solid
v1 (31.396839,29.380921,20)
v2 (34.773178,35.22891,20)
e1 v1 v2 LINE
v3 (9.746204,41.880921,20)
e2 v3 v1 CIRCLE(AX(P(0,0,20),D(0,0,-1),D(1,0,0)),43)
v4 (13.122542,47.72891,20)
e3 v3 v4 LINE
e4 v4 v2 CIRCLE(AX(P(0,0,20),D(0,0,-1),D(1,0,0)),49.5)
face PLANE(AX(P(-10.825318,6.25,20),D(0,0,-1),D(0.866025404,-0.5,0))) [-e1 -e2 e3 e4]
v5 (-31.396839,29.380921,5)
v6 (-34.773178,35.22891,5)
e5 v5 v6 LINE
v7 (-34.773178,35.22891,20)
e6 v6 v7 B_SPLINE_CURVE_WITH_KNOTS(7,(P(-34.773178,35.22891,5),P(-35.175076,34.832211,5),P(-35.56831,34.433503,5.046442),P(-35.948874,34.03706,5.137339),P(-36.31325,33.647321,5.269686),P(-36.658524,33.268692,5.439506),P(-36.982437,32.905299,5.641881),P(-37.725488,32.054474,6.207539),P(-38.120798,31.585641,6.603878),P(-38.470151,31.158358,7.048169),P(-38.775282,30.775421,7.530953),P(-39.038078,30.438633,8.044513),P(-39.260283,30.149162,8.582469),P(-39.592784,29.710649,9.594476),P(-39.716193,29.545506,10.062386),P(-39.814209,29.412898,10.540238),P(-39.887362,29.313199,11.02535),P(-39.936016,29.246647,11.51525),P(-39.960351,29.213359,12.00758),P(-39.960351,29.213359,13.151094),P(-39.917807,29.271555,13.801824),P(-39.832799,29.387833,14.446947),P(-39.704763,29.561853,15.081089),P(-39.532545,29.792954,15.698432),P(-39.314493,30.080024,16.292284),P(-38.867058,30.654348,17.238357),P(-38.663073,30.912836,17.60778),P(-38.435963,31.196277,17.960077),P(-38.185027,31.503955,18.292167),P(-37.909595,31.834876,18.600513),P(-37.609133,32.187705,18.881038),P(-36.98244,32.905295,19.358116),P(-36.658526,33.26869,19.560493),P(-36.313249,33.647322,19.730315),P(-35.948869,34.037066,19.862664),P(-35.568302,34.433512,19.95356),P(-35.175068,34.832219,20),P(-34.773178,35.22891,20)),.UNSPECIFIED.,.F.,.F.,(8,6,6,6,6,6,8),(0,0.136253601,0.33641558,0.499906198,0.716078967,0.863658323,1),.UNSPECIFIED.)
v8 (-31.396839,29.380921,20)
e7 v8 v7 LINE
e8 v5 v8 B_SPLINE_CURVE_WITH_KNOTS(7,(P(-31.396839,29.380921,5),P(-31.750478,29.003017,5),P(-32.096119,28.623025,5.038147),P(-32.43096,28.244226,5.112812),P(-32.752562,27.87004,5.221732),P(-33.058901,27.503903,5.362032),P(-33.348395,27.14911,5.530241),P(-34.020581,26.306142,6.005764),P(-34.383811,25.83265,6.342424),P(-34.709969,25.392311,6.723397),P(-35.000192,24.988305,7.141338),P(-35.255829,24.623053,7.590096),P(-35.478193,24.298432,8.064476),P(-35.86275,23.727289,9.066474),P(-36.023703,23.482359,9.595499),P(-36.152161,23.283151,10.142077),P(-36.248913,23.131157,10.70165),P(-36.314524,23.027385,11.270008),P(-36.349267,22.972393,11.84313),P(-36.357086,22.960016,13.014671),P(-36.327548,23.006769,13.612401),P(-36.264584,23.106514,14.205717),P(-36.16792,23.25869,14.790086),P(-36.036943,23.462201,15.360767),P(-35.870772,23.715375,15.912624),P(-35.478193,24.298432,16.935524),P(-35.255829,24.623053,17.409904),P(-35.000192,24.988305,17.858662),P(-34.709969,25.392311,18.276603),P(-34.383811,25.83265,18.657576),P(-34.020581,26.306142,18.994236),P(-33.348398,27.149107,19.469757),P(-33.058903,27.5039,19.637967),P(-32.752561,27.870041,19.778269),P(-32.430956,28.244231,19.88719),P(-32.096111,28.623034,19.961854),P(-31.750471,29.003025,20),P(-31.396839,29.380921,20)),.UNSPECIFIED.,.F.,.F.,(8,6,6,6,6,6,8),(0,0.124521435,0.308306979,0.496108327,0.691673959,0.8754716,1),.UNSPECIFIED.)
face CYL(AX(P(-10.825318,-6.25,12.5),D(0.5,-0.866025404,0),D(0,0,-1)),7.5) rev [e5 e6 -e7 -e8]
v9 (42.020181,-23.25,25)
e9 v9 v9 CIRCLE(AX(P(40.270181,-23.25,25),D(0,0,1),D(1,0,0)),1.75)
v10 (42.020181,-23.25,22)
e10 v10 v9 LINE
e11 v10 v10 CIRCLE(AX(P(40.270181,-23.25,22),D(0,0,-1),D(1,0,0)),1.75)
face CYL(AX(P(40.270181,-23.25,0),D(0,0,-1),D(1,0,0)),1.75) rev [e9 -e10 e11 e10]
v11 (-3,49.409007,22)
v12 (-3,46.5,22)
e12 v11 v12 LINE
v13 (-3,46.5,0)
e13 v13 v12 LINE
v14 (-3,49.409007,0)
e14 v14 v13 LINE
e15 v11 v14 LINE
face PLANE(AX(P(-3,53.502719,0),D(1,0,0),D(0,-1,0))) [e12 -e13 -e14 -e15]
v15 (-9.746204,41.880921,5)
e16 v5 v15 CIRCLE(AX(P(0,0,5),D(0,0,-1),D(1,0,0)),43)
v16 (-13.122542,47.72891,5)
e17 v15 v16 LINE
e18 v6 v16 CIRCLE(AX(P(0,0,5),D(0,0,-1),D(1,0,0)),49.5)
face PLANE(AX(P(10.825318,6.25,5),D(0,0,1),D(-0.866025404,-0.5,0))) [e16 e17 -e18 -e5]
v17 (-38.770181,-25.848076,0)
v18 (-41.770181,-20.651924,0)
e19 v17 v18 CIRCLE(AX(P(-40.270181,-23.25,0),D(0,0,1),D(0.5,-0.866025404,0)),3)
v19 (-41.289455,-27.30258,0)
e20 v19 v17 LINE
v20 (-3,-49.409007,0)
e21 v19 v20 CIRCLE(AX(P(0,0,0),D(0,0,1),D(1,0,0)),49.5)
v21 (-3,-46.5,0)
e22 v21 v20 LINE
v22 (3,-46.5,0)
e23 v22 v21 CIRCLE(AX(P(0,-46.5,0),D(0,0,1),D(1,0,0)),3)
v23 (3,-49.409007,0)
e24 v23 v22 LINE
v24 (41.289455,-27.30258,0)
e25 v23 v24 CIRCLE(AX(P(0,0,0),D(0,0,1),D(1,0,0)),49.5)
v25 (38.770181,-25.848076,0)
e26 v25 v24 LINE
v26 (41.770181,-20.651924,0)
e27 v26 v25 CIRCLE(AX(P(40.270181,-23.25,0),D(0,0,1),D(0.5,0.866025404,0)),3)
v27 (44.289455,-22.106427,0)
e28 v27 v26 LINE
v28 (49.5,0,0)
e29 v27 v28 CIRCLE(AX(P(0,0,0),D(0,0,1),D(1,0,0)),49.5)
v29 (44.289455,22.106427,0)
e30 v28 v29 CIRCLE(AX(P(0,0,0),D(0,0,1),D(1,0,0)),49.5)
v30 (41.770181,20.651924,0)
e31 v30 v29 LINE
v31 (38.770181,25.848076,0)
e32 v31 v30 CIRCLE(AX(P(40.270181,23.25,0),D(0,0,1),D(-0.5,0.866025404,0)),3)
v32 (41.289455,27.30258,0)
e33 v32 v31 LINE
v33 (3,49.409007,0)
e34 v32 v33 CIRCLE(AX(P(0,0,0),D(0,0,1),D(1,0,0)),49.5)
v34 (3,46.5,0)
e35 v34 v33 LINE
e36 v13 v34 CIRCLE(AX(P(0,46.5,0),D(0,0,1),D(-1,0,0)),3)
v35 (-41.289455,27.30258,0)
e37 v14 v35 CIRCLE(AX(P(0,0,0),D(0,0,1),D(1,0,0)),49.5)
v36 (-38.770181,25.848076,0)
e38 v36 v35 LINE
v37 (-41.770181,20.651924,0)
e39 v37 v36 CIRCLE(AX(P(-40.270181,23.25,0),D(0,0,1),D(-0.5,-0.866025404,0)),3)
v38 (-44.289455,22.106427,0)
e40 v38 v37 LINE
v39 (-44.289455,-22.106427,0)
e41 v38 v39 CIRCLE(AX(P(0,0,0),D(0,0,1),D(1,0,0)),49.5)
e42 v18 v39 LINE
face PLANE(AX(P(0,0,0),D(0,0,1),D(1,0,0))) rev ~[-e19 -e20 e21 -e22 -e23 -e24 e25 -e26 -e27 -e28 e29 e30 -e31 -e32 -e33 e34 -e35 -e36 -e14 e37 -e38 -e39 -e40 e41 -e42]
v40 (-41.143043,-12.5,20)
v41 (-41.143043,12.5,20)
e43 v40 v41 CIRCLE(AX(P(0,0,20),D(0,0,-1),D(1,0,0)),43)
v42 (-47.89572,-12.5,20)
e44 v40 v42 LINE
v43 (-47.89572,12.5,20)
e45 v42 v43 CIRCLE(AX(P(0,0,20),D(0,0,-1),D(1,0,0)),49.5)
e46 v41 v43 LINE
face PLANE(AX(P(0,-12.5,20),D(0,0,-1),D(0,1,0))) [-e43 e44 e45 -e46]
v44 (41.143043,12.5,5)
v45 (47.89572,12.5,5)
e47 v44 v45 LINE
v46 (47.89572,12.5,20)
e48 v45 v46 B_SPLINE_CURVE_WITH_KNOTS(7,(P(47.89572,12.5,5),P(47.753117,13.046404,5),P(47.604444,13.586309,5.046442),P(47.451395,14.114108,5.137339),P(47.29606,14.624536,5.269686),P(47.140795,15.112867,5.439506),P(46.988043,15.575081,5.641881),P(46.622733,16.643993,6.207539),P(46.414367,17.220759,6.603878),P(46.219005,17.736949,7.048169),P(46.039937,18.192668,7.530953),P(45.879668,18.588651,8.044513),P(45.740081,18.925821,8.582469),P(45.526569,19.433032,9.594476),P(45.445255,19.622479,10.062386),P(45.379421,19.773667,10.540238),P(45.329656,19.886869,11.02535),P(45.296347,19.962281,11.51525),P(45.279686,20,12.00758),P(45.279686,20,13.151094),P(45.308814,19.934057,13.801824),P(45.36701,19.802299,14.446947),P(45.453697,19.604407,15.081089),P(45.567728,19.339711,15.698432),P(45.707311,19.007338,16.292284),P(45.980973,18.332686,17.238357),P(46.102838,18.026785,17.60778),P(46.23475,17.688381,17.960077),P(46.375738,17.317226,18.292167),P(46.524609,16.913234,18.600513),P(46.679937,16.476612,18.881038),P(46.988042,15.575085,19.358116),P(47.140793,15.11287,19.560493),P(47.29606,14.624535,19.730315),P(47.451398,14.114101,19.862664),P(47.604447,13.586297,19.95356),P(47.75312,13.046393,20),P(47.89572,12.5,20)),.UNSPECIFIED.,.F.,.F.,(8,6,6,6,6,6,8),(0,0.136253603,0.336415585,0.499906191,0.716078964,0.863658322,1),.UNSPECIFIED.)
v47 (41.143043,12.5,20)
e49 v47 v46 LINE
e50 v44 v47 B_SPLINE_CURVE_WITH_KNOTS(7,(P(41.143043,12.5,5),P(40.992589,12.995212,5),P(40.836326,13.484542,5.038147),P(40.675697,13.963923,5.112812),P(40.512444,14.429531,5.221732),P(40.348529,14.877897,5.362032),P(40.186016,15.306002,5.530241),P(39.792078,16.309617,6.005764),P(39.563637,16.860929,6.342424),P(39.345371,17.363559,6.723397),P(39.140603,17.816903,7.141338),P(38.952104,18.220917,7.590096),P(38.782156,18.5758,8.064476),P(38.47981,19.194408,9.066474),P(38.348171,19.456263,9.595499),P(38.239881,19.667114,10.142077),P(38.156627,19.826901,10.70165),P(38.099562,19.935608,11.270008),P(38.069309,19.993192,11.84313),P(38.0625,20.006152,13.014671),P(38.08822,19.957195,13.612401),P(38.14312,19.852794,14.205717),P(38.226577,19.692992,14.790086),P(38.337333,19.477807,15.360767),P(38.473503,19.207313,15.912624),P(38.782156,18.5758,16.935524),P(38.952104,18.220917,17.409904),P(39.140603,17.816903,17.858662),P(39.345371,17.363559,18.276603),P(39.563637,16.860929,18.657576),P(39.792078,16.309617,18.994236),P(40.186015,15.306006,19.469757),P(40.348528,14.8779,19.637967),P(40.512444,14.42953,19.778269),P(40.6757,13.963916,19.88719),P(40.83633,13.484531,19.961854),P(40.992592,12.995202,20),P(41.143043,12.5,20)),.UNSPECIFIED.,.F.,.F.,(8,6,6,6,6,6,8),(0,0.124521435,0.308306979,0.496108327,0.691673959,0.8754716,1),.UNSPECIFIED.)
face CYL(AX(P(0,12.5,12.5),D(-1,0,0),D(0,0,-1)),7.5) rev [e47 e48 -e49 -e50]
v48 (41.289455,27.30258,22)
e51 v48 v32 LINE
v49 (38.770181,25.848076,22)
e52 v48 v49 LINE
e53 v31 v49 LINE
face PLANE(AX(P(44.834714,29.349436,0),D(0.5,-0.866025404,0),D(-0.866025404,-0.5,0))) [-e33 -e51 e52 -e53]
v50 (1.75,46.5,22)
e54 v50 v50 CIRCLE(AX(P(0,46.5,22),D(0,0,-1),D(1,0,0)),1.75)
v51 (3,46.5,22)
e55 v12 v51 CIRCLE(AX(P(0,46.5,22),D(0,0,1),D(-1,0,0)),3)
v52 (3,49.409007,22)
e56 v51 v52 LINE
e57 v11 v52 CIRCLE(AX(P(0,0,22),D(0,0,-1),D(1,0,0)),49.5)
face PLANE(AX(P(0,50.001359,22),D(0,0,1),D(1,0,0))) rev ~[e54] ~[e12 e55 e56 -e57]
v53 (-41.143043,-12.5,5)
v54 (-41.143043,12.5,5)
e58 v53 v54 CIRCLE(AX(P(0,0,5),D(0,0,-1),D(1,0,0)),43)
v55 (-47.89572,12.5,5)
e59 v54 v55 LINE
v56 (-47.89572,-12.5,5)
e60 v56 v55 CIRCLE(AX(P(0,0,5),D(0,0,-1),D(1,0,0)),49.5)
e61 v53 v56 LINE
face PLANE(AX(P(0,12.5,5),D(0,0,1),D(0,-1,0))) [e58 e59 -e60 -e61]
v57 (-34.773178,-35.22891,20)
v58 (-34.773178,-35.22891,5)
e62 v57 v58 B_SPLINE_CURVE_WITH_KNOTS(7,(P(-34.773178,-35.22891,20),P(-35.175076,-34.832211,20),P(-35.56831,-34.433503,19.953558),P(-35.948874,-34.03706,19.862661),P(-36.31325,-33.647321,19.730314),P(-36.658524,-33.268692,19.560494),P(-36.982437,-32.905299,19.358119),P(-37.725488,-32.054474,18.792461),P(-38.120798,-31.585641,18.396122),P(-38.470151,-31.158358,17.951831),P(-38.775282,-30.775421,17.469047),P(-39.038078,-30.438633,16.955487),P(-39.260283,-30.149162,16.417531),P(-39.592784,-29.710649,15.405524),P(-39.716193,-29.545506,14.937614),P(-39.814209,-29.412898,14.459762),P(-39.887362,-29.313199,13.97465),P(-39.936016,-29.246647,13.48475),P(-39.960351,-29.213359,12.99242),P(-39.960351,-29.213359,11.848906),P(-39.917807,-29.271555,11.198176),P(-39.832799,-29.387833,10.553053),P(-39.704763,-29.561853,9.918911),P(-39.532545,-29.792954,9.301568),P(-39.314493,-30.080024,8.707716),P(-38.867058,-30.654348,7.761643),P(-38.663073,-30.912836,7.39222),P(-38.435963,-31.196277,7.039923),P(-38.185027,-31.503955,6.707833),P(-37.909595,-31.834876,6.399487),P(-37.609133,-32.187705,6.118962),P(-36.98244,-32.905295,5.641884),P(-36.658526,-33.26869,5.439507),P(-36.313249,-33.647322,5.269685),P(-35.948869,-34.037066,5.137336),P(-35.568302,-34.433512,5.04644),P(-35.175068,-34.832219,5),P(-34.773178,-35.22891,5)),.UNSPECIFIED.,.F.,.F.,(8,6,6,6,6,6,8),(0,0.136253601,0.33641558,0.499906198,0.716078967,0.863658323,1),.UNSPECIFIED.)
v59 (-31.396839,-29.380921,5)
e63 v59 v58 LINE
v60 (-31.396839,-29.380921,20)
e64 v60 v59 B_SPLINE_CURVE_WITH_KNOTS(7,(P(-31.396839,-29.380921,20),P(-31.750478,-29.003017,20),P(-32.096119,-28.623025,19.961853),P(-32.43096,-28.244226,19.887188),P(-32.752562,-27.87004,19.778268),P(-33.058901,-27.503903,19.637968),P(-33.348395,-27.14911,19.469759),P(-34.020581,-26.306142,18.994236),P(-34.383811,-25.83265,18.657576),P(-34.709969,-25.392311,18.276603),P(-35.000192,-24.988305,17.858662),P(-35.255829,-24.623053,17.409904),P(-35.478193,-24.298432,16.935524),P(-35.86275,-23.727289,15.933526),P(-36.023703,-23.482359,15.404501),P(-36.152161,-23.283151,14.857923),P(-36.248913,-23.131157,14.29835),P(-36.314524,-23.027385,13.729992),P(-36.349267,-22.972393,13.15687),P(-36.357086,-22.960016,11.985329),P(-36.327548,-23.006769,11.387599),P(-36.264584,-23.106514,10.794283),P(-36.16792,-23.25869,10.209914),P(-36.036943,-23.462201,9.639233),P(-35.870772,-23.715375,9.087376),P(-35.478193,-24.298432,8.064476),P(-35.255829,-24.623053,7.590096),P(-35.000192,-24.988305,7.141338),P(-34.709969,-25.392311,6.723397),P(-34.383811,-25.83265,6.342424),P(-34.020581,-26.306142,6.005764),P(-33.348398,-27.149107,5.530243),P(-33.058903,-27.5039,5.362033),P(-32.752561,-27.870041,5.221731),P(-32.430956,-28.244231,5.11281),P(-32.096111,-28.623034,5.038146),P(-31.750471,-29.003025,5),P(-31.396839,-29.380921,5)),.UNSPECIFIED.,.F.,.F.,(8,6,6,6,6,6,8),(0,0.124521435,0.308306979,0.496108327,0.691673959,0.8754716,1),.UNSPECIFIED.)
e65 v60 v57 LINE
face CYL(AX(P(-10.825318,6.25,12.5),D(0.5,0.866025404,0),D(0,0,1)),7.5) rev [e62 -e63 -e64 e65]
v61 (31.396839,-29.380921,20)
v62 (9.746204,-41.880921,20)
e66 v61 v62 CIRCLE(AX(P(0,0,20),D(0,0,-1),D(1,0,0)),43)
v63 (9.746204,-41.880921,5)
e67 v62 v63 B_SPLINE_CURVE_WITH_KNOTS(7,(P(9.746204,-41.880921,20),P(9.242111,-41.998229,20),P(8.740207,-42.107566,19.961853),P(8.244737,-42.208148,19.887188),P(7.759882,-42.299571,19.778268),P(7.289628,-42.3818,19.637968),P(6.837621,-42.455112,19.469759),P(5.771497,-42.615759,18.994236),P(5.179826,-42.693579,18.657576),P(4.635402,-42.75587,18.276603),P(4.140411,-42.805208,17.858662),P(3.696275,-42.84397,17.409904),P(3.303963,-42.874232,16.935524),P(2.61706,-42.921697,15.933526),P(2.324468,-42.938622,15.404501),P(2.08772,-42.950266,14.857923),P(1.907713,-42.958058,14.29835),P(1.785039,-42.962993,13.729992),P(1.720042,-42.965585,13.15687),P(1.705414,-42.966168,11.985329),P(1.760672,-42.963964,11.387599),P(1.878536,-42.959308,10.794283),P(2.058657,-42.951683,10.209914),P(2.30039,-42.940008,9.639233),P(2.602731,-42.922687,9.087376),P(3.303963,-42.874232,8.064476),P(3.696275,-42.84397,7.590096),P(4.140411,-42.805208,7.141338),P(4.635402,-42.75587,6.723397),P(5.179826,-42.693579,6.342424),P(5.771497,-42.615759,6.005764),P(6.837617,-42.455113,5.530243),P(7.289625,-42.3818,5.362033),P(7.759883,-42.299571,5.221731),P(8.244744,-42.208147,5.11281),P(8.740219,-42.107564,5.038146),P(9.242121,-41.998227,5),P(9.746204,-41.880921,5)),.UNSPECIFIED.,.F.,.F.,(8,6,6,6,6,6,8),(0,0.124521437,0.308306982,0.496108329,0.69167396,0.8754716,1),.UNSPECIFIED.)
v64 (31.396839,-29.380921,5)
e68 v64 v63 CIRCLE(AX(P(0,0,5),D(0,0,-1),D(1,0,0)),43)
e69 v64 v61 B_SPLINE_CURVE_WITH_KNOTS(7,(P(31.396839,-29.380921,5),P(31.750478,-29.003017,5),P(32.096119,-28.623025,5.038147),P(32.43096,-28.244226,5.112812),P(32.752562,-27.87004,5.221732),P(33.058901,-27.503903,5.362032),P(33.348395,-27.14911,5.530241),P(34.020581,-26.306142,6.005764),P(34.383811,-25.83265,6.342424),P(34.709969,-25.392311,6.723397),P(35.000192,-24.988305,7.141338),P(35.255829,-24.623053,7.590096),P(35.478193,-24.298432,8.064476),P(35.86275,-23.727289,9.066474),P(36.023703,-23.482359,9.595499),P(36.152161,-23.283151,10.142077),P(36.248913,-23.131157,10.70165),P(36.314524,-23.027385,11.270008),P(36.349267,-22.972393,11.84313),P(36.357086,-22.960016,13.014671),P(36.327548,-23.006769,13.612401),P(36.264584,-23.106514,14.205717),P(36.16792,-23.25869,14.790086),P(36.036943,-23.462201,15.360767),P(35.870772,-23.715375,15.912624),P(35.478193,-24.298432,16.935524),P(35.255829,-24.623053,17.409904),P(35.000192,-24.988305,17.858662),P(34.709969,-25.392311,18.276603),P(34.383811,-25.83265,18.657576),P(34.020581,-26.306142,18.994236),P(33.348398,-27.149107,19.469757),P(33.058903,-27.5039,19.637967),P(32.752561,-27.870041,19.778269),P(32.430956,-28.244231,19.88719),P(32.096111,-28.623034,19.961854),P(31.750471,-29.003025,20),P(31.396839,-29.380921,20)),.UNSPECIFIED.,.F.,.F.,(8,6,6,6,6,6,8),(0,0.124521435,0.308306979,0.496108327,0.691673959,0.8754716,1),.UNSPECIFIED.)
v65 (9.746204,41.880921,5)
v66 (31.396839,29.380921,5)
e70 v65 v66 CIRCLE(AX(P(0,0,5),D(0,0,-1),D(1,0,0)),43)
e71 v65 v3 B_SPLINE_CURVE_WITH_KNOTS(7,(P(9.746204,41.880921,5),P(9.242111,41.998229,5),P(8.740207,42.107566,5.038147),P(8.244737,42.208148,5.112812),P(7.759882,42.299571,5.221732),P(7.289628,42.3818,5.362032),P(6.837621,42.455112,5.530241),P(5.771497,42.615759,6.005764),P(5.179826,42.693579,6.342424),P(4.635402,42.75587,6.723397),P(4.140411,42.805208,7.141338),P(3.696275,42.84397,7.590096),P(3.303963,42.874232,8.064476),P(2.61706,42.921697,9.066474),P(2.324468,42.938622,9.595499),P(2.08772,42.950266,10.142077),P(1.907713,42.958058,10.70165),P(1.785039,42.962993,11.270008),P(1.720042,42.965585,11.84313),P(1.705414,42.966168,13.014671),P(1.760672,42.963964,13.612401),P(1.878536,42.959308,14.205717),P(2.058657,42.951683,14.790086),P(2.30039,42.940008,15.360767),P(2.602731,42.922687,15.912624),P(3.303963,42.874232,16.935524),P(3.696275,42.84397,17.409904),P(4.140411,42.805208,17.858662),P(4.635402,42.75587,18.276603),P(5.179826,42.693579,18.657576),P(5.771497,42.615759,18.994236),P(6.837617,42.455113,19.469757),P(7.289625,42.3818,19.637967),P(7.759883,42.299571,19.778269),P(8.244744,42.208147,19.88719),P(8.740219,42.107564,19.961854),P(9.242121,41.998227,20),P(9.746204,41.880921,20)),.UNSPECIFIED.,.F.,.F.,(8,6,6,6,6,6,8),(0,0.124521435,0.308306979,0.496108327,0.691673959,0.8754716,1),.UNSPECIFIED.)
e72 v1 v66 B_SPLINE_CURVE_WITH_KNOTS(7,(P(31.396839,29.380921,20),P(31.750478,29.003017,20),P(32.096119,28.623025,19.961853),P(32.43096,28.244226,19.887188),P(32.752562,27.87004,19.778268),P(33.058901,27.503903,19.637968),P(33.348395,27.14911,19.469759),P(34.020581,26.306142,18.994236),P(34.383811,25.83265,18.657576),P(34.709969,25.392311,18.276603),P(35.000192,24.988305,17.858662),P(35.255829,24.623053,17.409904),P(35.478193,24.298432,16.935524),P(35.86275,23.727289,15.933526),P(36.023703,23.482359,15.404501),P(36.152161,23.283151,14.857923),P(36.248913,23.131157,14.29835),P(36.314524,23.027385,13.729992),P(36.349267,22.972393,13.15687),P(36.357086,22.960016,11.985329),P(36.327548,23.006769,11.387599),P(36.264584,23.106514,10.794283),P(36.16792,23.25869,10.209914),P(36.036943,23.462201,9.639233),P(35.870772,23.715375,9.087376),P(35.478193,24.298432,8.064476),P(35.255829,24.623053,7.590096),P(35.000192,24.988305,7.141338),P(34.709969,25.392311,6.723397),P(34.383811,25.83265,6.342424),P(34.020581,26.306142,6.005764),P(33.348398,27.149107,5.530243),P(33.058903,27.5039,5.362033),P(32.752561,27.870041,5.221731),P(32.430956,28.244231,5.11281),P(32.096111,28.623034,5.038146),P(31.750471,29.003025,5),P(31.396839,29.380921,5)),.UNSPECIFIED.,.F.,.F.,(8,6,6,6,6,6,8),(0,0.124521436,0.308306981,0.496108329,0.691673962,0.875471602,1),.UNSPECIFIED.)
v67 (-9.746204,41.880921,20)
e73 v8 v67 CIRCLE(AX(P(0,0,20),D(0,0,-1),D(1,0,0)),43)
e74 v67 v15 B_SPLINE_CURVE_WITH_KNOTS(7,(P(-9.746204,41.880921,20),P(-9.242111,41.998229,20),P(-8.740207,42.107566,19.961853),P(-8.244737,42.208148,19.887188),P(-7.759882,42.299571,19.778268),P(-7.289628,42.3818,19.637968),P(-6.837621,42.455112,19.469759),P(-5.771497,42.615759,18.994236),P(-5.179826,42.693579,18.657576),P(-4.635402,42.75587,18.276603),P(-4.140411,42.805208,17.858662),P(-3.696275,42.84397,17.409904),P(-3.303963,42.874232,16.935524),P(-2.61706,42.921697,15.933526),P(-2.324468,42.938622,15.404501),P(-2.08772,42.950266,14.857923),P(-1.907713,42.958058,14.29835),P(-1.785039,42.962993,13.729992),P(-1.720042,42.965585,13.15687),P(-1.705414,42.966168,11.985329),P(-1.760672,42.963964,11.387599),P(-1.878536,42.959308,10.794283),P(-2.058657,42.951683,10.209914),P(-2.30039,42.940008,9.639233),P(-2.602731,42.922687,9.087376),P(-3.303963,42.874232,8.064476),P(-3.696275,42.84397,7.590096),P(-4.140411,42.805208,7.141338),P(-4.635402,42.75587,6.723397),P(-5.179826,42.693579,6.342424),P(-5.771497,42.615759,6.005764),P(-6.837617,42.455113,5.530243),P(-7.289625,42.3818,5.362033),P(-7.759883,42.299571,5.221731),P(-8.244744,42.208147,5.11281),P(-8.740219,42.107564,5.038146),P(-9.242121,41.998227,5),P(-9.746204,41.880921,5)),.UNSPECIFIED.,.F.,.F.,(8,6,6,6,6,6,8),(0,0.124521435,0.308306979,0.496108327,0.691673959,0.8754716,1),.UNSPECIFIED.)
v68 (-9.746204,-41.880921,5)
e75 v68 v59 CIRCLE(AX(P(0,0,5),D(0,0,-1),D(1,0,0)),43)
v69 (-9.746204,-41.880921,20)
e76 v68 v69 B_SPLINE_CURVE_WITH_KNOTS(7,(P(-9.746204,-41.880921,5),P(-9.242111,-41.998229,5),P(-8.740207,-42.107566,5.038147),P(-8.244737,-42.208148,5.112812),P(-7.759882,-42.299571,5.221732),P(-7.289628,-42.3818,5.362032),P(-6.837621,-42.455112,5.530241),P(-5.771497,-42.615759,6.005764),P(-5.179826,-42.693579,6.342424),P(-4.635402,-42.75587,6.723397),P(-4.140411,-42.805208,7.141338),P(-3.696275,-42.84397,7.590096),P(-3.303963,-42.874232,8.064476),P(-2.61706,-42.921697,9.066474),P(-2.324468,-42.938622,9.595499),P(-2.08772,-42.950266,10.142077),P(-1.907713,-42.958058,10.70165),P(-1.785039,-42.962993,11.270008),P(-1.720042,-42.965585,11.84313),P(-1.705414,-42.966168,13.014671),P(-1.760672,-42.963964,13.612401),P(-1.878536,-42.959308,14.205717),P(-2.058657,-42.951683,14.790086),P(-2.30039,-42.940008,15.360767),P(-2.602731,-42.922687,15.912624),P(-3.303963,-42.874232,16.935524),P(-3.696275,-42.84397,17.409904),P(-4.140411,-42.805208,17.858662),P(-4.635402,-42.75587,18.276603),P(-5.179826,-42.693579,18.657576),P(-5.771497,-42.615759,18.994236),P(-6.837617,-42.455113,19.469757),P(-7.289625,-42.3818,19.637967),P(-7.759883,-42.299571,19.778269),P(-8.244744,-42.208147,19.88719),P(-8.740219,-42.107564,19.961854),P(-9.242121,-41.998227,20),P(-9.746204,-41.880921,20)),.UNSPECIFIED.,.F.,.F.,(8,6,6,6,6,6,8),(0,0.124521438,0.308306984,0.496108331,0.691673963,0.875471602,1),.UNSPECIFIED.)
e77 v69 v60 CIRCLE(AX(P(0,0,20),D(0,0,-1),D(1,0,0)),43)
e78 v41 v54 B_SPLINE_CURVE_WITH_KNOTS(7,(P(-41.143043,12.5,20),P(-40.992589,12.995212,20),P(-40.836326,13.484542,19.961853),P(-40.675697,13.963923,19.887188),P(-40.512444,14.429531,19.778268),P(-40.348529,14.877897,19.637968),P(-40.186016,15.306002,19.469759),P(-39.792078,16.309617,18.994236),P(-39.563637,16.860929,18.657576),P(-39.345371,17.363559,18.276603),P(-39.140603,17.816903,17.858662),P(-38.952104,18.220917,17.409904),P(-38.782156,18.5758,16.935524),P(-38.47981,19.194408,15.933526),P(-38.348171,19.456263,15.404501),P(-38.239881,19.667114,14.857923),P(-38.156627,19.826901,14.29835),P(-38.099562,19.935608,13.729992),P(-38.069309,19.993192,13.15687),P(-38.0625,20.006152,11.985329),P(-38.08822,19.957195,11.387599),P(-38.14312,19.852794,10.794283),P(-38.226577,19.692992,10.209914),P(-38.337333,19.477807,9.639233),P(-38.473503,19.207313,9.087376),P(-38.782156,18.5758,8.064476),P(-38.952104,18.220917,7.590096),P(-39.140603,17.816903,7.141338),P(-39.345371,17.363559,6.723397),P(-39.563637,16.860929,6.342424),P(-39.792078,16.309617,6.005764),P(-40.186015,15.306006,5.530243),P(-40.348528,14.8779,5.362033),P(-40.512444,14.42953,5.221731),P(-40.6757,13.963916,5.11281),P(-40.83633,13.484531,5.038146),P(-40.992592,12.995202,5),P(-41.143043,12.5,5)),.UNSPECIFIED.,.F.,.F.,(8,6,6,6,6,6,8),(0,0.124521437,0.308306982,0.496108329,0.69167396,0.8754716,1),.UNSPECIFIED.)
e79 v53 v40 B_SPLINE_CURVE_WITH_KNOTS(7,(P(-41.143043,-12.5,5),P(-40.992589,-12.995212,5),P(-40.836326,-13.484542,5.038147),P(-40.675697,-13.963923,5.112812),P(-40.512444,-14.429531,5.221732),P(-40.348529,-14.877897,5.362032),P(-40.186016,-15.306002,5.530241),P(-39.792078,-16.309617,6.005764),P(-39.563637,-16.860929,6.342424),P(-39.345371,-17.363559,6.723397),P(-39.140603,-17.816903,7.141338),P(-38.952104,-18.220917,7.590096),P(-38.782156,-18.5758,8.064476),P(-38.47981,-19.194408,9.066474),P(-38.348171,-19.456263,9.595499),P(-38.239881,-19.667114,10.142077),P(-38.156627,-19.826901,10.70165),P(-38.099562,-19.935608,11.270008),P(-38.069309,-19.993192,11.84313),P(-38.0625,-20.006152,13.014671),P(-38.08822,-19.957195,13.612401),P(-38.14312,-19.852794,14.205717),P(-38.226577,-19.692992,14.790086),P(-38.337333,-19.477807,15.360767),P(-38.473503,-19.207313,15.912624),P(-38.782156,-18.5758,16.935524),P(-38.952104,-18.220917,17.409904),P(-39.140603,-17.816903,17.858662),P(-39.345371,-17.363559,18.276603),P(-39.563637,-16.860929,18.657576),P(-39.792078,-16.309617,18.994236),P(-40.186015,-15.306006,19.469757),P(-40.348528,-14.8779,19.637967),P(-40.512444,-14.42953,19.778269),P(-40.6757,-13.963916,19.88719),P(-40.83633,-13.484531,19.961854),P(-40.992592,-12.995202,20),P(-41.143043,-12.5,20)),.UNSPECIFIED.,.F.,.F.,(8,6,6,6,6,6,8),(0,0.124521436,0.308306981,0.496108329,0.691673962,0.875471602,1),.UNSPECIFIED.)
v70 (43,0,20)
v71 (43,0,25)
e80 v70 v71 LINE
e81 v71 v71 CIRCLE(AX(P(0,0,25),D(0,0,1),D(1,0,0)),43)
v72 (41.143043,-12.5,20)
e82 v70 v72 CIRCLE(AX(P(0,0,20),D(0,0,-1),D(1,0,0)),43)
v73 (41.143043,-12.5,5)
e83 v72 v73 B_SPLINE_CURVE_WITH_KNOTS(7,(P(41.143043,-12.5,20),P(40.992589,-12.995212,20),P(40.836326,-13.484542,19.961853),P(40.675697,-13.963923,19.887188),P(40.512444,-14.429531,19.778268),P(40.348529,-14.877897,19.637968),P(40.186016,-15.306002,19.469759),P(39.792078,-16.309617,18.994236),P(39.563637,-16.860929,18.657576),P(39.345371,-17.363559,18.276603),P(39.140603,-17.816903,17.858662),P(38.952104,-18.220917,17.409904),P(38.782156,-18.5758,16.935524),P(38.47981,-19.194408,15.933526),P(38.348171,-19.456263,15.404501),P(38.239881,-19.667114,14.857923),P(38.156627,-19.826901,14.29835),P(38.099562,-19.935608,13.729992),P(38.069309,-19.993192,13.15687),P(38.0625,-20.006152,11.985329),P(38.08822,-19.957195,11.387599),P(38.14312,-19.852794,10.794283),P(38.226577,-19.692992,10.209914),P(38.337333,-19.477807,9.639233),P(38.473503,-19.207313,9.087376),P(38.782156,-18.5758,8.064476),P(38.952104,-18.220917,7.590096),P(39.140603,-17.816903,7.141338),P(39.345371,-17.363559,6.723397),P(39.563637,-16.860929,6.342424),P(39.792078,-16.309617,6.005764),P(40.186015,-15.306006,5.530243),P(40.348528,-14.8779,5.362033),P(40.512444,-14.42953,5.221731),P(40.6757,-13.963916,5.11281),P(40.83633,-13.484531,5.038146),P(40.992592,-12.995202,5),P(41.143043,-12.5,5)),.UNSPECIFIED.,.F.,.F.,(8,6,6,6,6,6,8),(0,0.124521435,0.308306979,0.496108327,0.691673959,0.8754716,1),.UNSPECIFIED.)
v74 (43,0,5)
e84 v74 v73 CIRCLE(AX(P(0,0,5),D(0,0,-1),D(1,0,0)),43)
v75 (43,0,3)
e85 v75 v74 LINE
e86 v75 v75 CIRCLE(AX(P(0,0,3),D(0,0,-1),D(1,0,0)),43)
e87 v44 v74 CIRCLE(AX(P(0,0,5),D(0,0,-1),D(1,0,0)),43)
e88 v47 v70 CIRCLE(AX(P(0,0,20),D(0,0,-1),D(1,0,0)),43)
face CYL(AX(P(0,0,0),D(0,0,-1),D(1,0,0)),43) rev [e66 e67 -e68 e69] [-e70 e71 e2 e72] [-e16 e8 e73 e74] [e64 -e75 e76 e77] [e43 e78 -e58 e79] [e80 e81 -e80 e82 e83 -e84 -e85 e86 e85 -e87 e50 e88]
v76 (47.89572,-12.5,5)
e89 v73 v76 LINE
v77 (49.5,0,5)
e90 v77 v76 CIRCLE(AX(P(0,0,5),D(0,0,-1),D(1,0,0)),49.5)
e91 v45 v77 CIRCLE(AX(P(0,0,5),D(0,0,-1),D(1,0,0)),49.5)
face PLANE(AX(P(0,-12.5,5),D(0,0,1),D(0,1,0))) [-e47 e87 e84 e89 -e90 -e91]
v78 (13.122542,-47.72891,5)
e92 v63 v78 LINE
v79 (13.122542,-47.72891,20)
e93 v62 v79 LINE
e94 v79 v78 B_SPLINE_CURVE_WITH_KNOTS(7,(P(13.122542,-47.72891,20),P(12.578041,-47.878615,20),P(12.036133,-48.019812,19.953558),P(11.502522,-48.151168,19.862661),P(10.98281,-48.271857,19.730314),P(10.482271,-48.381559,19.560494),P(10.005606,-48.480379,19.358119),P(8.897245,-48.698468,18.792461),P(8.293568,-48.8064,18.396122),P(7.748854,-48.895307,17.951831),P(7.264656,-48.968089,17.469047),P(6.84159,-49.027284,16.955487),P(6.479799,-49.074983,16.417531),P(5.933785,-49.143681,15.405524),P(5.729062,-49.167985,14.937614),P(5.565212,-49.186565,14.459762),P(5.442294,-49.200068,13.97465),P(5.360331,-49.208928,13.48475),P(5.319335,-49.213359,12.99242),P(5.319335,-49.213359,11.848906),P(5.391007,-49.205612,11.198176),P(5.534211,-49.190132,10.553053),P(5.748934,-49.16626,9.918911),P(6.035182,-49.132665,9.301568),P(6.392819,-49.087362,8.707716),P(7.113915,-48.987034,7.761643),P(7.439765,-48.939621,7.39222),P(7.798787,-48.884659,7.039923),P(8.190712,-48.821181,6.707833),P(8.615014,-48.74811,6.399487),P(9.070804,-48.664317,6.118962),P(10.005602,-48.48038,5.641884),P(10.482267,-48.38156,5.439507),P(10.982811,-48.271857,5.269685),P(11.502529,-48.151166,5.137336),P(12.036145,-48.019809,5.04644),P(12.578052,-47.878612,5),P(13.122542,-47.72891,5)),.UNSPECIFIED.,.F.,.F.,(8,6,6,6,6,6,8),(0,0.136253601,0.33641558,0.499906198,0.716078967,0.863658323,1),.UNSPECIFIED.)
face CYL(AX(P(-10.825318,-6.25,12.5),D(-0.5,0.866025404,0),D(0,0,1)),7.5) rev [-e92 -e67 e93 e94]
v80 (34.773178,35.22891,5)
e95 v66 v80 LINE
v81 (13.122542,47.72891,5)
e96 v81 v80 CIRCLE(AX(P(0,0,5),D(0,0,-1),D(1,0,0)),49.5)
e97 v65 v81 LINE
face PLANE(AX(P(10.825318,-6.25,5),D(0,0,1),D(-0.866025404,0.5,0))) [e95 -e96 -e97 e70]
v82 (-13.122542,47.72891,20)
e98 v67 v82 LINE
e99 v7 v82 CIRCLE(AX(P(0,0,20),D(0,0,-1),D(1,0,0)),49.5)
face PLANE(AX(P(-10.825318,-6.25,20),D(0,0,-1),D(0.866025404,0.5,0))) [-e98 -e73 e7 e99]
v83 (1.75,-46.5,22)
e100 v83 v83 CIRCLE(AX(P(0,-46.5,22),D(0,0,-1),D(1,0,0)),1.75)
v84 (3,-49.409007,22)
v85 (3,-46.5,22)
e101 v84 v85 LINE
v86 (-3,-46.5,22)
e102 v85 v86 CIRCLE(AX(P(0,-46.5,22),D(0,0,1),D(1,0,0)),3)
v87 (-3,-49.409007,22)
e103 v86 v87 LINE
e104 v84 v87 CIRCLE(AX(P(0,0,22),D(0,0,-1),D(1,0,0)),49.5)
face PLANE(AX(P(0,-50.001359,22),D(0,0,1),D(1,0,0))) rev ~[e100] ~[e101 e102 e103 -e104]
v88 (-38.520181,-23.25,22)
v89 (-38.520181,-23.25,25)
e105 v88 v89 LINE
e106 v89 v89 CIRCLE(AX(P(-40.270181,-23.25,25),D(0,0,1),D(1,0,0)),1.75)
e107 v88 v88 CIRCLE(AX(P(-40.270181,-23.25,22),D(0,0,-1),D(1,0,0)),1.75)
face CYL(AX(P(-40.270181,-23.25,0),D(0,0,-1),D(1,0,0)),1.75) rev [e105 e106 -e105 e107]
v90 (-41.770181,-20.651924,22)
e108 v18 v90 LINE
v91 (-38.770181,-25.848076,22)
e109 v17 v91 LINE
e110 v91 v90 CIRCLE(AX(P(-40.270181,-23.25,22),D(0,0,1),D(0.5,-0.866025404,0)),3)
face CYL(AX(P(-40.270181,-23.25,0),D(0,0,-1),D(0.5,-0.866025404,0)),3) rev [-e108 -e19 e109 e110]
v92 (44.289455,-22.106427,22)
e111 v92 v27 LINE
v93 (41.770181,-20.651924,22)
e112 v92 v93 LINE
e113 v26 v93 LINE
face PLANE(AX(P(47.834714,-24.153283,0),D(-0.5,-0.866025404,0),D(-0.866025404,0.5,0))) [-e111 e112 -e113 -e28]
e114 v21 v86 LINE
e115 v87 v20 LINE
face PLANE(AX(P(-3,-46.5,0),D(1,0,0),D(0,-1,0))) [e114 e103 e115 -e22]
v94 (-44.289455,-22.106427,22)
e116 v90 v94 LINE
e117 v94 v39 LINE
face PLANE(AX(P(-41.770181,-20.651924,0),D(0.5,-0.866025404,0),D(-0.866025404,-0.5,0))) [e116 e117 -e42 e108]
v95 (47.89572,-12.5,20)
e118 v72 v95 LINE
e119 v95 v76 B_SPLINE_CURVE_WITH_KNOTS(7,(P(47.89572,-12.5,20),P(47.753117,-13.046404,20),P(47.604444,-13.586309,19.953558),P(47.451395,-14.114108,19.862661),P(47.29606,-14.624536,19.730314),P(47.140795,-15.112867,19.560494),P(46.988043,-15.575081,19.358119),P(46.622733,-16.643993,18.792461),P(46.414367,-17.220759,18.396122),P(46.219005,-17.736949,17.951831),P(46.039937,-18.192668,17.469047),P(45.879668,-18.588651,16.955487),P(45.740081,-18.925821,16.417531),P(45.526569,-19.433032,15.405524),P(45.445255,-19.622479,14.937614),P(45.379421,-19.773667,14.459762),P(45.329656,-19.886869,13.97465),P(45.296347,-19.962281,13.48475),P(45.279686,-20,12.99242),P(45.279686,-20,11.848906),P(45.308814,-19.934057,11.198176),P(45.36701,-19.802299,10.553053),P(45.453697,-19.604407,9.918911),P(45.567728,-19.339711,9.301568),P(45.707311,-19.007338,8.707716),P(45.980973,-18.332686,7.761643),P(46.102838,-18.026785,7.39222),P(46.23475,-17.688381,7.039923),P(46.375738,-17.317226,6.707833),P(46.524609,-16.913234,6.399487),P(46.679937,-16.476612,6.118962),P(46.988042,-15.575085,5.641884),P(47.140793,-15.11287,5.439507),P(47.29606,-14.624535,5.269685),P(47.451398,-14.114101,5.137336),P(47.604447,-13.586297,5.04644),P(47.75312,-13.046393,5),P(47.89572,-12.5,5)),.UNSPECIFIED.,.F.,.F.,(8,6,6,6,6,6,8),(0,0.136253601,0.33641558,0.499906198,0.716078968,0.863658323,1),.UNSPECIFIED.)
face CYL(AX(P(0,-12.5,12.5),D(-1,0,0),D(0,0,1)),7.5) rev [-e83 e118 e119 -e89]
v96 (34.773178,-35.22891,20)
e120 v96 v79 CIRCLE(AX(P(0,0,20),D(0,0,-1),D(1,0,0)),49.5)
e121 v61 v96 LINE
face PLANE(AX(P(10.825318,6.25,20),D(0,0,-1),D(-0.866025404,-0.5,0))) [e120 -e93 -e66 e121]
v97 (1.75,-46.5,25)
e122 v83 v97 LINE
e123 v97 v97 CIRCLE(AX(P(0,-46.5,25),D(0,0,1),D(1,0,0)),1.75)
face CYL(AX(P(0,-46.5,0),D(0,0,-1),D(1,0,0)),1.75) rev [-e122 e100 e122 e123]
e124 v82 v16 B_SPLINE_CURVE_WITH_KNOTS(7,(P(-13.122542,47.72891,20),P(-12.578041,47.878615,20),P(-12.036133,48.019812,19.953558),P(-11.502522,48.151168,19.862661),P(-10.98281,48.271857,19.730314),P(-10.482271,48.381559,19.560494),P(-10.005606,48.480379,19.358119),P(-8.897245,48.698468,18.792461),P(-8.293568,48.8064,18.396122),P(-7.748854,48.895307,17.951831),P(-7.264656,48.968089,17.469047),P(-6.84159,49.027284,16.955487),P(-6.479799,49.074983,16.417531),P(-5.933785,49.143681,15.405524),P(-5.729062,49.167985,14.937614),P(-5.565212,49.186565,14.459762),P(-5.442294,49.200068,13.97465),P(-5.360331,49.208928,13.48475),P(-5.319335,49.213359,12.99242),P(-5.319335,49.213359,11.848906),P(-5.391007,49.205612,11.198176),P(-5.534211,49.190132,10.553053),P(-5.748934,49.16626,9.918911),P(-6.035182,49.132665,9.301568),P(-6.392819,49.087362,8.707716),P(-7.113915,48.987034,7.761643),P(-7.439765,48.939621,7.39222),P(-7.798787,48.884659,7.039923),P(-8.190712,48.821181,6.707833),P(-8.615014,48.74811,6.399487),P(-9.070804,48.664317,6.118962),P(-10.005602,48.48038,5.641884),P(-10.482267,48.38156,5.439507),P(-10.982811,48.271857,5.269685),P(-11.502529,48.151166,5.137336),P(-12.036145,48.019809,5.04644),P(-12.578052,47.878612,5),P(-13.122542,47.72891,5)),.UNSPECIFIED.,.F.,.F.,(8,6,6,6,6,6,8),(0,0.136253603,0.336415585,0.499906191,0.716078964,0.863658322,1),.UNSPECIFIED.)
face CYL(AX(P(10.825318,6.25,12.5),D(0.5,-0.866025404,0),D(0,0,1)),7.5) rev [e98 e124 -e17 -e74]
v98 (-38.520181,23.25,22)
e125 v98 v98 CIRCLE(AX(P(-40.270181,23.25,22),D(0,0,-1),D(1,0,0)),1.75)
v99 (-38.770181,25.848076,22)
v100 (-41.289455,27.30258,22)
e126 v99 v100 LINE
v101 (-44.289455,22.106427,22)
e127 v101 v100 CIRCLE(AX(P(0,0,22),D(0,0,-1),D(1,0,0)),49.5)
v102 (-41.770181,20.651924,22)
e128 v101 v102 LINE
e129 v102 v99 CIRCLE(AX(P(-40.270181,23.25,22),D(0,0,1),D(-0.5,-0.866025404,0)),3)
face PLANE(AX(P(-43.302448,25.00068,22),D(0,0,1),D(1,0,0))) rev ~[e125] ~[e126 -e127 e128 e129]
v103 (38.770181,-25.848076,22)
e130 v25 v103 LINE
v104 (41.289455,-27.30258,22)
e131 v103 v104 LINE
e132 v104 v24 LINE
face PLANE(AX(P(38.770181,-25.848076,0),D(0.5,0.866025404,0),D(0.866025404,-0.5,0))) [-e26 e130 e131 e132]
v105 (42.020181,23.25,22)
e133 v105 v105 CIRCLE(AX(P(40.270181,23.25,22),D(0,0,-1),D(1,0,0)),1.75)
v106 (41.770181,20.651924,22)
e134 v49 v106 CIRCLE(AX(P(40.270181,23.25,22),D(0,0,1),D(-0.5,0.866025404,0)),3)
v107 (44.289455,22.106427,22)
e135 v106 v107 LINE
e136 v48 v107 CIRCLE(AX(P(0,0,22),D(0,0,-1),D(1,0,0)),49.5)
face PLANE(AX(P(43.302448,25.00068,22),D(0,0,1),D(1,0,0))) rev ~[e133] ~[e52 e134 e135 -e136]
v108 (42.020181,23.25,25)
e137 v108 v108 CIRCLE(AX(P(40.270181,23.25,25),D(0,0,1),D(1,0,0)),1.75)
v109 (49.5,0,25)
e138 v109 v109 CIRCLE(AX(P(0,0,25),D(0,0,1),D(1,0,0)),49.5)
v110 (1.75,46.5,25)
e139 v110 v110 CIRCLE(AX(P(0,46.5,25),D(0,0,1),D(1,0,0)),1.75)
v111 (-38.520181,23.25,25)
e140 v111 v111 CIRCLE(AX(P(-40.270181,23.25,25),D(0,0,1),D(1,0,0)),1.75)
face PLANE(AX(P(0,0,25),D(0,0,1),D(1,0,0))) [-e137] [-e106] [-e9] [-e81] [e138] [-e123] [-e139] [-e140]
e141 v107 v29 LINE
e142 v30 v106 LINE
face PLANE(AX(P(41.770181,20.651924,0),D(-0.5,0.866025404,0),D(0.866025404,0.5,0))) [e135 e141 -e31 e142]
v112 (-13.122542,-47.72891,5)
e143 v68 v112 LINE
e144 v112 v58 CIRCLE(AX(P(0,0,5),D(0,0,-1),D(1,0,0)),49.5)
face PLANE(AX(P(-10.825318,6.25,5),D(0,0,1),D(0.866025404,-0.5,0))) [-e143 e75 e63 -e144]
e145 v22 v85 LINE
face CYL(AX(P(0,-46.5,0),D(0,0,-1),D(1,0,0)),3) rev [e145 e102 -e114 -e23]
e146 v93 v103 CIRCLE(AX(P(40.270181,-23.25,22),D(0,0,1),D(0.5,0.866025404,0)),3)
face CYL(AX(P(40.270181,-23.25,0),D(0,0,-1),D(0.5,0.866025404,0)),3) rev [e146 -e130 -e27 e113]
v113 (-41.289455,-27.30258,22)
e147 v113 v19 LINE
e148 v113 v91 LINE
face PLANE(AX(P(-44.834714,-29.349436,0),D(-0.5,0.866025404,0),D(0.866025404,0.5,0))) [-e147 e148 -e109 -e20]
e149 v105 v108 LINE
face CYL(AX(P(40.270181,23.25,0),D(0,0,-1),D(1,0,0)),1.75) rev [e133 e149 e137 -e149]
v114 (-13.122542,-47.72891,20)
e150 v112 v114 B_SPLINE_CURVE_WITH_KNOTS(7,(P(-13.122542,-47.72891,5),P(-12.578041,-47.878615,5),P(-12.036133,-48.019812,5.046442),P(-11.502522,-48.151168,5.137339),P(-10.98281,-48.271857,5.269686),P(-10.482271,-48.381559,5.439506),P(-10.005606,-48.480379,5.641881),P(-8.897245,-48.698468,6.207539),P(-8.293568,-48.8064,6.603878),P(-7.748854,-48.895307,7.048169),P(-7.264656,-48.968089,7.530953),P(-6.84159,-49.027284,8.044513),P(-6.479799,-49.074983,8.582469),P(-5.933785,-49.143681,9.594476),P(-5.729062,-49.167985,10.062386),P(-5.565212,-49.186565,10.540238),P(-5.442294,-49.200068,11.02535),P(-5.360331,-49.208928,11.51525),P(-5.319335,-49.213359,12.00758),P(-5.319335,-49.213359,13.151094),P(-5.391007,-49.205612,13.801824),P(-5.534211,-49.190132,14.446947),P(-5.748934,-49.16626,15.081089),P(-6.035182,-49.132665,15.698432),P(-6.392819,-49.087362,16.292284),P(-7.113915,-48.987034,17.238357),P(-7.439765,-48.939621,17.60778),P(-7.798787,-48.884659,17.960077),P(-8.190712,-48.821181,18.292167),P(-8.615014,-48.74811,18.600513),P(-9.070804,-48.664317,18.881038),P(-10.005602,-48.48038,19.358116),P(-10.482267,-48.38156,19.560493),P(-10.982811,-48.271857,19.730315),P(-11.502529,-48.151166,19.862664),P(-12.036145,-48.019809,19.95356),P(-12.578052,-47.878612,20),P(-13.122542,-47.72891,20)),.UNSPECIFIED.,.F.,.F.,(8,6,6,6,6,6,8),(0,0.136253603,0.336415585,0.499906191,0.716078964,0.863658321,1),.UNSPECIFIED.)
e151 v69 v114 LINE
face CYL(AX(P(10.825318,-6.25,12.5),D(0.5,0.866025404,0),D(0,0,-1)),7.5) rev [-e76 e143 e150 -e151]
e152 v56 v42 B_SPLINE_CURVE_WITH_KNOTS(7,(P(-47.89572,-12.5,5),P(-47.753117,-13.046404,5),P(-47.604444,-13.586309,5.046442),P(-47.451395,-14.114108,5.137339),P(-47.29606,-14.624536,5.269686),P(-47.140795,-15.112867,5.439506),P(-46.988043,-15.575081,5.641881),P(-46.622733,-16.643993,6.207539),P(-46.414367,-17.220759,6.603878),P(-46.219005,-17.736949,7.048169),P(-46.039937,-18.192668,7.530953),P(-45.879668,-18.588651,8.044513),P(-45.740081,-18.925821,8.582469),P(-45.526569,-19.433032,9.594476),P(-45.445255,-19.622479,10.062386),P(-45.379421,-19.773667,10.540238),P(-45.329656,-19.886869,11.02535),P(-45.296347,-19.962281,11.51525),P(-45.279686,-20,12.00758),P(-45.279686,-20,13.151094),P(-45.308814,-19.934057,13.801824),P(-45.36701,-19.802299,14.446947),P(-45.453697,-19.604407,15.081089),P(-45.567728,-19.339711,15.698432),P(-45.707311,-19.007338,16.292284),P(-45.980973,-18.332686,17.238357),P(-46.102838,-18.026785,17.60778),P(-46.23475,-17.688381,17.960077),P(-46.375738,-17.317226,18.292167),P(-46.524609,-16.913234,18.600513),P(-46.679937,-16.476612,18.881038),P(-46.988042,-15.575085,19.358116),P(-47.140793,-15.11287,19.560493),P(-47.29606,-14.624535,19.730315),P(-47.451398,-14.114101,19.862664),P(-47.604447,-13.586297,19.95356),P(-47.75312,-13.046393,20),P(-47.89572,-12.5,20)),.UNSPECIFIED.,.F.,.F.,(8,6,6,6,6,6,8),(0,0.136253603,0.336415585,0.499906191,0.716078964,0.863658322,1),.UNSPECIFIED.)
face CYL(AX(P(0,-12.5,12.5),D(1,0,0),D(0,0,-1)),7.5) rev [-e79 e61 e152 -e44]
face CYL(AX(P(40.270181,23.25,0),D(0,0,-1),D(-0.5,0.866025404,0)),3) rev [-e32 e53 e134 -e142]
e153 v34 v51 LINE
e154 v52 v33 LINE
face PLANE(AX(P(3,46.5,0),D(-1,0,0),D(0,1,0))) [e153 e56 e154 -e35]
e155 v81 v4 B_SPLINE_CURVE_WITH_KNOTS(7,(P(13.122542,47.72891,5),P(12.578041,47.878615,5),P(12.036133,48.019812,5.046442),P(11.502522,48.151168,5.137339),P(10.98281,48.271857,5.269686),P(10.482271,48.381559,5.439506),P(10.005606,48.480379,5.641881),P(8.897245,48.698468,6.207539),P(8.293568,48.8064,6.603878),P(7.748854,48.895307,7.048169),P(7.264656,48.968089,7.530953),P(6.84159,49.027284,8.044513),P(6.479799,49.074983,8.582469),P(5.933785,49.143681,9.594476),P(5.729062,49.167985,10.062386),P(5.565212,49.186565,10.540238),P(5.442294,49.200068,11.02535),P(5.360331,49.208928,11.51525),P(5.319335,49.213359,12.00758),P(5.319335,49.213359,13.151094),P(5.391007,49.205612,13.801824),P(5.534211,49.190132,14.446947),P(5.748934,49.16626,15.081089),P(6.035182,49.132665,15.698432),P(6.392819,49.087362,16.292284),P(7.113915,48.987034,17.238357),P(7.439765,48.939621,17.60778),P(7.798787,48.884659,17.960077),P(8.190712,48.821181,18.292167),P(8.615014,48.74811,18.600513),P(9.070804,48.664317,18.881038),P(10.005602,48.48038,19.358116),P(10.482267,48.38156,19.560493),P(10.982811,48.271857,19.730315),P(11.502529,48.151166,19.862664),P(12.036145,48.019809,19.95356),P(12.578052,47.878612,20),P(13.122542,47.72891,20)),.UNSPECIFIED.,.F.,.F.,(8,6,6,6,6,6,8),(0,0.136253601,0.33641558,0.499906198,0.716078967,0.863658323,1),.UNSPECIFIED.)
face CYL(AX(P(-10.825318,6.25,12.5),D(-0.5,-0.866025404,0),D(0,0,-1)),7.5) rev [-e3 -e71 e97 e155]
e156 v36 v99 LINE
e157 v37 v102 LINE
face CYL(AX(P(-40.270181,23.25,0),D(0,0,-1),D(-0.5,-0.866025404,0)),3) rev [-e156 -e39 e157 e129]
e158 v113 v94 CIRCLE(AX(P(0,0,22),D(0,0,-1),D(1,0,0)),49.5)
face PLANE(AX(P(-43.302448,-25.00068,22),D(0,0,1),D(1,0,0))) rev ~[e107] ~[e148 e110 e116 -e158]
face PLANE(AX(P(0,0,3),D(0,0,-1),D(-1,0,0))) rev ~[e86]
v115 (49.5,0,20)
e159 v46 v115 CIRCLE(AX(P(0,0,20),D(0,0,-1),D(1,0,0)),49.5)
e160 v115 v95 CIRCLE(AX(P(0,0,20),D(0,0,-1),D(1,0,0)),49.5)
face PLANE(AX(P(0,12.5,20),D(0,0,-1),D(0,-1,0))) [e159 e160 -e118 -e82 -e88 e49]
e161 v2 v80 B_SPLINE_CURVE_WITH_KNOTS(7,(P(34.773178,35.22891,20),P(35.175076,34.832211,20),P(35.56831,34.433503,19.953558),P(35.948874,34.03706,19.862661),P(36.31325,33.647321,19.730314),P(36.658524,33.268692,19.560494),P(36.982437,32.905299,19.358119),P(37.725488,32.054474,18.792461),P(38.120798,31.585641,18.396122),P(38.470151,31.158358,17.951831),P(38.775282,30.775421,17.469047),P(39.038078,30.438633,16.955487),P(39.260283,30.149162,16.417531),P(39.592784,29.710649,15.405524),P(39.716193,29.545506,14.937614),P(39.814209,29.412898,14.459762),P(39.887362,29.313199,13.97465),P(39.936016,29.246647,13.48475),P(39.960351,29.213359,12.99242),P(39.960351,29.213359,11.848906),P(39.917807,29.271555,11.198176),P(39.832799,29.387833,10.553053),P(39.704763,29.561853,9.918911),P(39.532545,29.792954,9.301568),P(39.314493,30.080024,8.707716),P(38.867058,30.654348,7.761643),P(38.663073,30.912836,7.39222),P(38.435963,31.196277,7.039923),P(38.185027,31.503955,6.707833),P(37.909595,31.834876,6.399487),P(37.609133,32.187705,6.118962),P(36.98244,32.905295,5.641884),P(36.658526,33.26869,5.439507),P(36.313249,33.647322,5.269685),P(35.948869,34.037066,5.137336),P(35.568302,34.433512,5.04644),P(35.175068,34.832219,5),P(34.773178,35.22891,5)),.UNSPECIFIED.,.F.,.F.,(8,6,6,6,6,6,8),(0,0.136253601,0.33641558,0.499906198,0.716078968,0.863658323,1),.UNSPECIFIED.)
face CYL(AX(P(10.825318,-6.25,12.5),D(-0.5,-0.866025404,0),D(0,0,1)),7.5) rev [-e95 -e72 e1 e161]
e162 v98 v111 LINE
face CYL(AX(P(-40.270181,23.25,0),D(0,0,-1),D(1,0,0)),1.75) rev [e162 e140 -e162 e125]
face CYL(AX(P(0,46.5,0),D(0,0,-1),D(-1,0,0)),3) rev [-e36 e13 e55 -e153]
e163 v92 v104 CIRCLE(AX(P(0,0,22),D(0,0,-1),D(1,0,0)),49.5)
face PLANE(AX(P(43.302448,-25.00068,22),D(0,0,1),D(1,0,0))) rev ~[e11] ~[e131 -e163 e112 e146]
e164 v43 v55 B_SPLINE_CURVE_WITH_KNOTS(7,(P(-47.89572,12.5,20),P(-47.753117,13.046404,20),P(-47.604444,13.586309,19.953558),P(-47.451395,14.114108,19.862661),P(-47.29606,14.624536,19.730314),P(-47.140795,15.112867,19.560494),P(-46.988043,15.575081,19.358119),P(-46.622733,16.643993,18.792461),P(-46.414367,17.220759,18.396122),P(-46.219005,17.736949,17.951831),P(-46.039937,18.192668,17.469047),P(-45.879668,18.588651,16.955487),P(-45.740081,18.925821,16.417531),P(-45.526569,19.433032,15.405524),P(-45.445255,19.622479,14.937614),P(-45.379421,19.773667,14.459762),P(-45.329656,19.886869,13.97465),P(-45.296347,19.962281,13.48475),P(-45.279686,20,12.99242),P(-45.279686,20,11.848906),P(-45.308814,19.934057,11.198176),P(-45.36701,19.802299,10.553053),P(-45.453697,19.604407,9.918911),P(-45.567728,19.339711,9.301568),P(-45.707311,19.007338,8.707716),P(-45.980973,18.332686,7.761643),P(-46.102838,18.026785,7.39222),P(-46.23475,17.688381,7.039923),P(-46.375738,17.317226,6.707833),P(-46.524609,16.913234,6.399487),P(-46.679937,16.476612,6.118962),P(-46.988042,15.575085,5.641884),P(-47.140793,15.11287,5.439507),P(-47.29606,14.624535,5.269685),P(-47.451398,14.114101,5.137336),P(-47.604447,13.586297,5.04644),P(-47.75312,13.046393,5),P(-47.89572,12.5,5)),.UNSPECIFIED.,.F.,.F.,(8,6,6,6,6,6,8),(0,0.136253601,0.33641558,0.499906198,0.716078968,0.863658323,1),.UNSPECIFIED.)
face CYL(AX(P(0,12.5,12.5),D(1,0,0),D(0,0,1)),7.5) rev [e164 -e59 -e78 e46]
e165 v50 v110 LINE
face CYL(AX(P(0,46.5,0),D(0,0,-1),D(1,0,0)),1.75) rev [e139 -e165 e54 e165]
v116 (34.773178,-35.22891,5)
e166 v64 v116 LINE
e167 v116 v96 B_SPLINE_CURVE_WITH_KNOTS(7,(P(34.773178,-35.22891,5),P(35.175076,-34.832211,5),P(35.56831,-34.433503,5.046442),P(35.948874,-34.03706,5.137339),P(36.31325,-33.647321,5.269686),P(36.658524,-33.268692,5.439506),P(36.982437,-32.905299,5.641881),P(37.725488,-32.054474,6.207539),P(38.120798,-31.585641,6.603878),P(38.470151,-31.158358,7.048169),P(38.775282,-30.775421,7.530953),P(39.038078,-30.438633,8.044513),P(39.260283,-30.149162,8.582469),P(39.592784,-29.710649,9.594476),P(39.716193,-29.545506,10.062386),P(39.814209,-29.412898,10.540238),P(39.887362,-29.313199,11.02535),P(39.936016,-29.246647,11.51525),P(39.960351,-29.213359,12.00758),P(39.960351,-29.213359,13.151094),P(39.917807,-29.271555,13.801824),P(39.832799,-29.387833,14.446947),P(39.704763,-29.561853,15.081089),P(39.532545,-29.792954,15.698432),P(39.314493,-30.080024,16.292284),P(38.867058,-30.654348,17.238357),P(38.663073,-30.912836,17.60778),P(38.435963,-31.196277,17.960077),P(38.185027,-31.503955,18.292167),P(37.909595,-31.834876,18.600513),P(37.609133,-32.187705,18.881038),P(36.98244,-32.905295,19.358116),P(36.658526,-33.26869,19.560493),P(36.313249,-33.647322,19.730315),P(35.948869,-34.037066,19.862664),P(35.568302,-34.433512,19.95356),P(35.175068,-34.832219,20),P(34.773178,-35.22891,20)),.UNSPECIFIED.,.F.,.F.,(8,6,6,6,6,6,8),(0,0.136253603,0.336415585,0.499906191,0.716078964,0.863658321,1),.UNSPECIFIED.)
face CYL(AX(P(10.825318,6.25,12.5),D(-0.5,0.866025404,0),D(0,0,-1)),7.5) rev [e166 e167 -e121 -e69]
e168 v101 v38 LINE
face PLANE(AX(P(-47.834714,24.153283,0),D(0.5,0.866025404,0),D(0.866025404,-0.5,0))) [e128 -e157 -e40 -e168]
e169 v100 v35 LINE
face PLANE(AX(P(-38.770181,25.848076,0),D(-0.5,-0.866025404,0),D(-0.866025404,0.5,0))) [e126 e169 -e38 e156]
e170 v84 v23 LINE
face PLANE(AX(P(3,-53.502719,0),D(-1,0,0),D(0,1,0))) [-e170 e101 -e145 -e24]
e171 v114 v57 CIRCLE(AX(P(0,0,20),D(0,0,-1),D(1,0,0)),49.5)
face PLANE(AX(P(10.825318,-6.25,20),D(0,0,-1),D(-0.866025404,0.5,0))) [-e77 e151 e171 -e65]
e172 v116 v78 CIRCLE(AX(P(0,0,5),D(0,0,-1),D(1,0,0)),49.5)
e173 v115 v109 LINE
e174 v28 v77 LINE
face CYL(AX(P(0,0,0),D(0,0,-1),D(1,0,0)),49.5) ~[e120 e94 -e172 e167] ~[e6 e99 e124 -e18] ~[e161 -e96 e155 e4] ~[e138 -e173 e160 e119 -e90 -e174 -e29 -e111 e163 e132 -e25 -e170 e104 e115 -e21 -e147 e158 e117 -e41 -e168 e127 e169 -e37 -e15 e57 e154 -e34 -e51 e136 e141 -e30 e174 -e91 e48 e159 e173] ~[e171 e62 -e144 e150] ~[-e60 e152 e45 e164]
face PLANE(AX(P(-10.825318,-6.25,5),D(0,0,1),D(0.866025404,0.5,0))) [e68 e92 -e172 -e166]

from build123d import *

# Parameters (mm, degrees)
SKETCH_1_R               = 49.5
SKETCH_1_R_2             = 43
SKETCH_1_R_3             = 1.75
EXTRUDE_1_DEPTH          = 25
CUT_EXTRUDE_1_DEPTH      = 59
PATTERN_CIRCULAR_1_COUNT = 6
SKETCH_3_R               = 44.045845484
EXTRUDE_2_DEPTH          = 3
CUT_EXTRUDE_3_DEPTH      = 22


with BuildPart() as part:
    # Эскиз1 → Бобышка-Вытянуть1 (new body)
    with BuildSketch(Plane.XY):
        Circle(SKETCH_1_R)
        Circle(SKETCH_1_R_2, mode=Mode.SUBTRACT)
        with Locations((0, 46.5)):
            Circle(SKETCH_1_R_3, mode=Mode.SUBTRACT)
        with Locations((40.270181276, 23.25)):
            Circle(SKETCH_1_R_3, mode=Mode.SUBTRACT)
        with Locations((40.270181276, -23.25)):
            Circle(SKETCH_1_R_3, mode=Mode.SUBTRACT)
        with Locations((0, -46.5)):
            Circle(SKETCH_1_R_3, mode=Mode.SUBTRACT)
        with Locations((-40.270181276, -23.25)):
            Circle(SKETCH_1_R_3, mode=Mode.SUBTRACT)
        with Locations((-40.270181276, 23.25)):
            Circle(SKETCH_1_R_3, mode=Mode.SUBTRACT)
    extrude(amount=EXTRUDE_1_DEPTH)

    # Эскиз2 → Вырез-Вытянуть1 (cut)
    with BuildSketch(Plane(origin=(0, 0, 0), x_dir=(0, 0, -1), z_dir=(1, 0, 0))):
        with BuildLine():
            Line((-5, 12.5), (-5, -12.5))
            ThreePointArc((-5, -12.5), (-12.5, -20), (-20, -12.5))
            Line((-20, -12.5), (-20, 12.5))
            ThreePointArc((-20, 12.5), (-12.5, 20), (-5, 12.5))
        make_face()
    cut_extrude_1 = extrude(amount=-CUT_EXTRUDE_1_DEPTH, mode=Mode.SUBTRACT)

    # Круговой массив1: Вырез-Вытянуть1 ×6 about axis
    pattern_circular_1_axis = Axis((0, 0, 25), (0, 0, -1))
    for i in range(1, PATTERN_CIRCULAR_1_COUNT):
        add(cut_extrude_1.rotate(pattern_circular_1_axis, i * 360 / PATTERN_CIRCULAR_1_COUNT), mode=Mode.SUBTRACT)

    # Эскиз3 → Бобышка-Вытянуть2 (add)
    with BuildSketch(Plane(origin=(0, 0, 0), x_dir=(-1, 0, 0), z_dir=(0, 0, -1))):
        Circle(SKETCH_3_R)
    extrude(amount=-EXTRUDE_2_DEPTH)

    # Эскиз4 → Вырез-Вытянуть3 (cut)
    with BuildSketch(Plane(origin=(0, 0, 0), x_dir=(-1, 0, 0), z_dir=(0, 0, -1))):
        with BuildLine():
            Line((-3, 46.5), (-3, 53.502718932))
            ThreePointArc((-3, 53.502718932), (0, 56.502718932), (3, 53.502718932))
            Line((3, 53.502718932), (3, 46.5))
            ThreePointArc((3, 46.5), (0, 43.5), (-3, 46.5))
        make_face()
        with BuildLine():
            Line((-41.770181276, 20.651923789), (-47.834713767, 24.153283255))
            ThreePointArc((-47.834713767, 24.153283255), (-48.932789978, 28.251359466), (-44.834713767, 29.349435677))
            Line((-44.834713767, 29.349435677), (-38.770181276, 25.848076211))
            ThreePointArc((-38.770181276, 25.848076211), (-37.672105065, 21.75), (-41.770181276, 20.651923789))
        make_face()
        with BuildLine():
            Line((-38.770181276, -25.848076211), (-44.834713767, -29.349435677))
            ThreePointArc((-44.834713767, -29.349435677), (-48.932789978, -28.251359466), (-47.834713767, -24.153283255))
            Line((-47.834713767, -24.153283255), (-41.770181276, -20.651923789))
            ThreePointArc((-41.770181276, -20.651923789), (-37.672105065, -21.75), (-38.770181276, -25.848076211))
        make_face()
        with BuildLine():
            Line((3, -46.5), (3, -53.502718932))
            ThreePointArc((3, -53.502718932), (0, -56.502718932), (-3, -53.502718932))
            Line((-3, -53.502718932), (-3, -46.5))
            ThreePointArc((-3, -46.5), (0, -43.5), (3, -46.5))
        make_face()
        with BuildLine():
            Line((41.770181276, -20.651923789), (47.834713767, -24.153283255))
            ThreePointArc((47.834713767, -24.153283255), (48.932789978, -28.251359466), (44.834713767, -29.349435677))
            Line((44.834713767, -29.349435677), (38.770181276, -25.848076211))
            ThreePointArc((38.770181276, -25.848076211), (37.672105065, -21.75), (41.770181276, -20.651923789))
        make_face()
        with BuildLine():
            Line((38.770181276, 25.848076211), (44.834713767, 29.349435677))
            ThreePointArc((44.834713767, 29.349435677), (48.932789978, 28.251359466), (47.834713767, 24.153283255))
            Line((47.834713767, 24.153283255), (41.770181276, 20.651923789))
            ThreePointArc((41.770181276, 20.651923789), (37.672105065, 21.75), (38.770181276, 25.848076211))
        make_face()
    extrude(amount=-CUT_EXTRUDE_3_DEPTH, mode=Mode.SUBTRACT)


solid = part.part
